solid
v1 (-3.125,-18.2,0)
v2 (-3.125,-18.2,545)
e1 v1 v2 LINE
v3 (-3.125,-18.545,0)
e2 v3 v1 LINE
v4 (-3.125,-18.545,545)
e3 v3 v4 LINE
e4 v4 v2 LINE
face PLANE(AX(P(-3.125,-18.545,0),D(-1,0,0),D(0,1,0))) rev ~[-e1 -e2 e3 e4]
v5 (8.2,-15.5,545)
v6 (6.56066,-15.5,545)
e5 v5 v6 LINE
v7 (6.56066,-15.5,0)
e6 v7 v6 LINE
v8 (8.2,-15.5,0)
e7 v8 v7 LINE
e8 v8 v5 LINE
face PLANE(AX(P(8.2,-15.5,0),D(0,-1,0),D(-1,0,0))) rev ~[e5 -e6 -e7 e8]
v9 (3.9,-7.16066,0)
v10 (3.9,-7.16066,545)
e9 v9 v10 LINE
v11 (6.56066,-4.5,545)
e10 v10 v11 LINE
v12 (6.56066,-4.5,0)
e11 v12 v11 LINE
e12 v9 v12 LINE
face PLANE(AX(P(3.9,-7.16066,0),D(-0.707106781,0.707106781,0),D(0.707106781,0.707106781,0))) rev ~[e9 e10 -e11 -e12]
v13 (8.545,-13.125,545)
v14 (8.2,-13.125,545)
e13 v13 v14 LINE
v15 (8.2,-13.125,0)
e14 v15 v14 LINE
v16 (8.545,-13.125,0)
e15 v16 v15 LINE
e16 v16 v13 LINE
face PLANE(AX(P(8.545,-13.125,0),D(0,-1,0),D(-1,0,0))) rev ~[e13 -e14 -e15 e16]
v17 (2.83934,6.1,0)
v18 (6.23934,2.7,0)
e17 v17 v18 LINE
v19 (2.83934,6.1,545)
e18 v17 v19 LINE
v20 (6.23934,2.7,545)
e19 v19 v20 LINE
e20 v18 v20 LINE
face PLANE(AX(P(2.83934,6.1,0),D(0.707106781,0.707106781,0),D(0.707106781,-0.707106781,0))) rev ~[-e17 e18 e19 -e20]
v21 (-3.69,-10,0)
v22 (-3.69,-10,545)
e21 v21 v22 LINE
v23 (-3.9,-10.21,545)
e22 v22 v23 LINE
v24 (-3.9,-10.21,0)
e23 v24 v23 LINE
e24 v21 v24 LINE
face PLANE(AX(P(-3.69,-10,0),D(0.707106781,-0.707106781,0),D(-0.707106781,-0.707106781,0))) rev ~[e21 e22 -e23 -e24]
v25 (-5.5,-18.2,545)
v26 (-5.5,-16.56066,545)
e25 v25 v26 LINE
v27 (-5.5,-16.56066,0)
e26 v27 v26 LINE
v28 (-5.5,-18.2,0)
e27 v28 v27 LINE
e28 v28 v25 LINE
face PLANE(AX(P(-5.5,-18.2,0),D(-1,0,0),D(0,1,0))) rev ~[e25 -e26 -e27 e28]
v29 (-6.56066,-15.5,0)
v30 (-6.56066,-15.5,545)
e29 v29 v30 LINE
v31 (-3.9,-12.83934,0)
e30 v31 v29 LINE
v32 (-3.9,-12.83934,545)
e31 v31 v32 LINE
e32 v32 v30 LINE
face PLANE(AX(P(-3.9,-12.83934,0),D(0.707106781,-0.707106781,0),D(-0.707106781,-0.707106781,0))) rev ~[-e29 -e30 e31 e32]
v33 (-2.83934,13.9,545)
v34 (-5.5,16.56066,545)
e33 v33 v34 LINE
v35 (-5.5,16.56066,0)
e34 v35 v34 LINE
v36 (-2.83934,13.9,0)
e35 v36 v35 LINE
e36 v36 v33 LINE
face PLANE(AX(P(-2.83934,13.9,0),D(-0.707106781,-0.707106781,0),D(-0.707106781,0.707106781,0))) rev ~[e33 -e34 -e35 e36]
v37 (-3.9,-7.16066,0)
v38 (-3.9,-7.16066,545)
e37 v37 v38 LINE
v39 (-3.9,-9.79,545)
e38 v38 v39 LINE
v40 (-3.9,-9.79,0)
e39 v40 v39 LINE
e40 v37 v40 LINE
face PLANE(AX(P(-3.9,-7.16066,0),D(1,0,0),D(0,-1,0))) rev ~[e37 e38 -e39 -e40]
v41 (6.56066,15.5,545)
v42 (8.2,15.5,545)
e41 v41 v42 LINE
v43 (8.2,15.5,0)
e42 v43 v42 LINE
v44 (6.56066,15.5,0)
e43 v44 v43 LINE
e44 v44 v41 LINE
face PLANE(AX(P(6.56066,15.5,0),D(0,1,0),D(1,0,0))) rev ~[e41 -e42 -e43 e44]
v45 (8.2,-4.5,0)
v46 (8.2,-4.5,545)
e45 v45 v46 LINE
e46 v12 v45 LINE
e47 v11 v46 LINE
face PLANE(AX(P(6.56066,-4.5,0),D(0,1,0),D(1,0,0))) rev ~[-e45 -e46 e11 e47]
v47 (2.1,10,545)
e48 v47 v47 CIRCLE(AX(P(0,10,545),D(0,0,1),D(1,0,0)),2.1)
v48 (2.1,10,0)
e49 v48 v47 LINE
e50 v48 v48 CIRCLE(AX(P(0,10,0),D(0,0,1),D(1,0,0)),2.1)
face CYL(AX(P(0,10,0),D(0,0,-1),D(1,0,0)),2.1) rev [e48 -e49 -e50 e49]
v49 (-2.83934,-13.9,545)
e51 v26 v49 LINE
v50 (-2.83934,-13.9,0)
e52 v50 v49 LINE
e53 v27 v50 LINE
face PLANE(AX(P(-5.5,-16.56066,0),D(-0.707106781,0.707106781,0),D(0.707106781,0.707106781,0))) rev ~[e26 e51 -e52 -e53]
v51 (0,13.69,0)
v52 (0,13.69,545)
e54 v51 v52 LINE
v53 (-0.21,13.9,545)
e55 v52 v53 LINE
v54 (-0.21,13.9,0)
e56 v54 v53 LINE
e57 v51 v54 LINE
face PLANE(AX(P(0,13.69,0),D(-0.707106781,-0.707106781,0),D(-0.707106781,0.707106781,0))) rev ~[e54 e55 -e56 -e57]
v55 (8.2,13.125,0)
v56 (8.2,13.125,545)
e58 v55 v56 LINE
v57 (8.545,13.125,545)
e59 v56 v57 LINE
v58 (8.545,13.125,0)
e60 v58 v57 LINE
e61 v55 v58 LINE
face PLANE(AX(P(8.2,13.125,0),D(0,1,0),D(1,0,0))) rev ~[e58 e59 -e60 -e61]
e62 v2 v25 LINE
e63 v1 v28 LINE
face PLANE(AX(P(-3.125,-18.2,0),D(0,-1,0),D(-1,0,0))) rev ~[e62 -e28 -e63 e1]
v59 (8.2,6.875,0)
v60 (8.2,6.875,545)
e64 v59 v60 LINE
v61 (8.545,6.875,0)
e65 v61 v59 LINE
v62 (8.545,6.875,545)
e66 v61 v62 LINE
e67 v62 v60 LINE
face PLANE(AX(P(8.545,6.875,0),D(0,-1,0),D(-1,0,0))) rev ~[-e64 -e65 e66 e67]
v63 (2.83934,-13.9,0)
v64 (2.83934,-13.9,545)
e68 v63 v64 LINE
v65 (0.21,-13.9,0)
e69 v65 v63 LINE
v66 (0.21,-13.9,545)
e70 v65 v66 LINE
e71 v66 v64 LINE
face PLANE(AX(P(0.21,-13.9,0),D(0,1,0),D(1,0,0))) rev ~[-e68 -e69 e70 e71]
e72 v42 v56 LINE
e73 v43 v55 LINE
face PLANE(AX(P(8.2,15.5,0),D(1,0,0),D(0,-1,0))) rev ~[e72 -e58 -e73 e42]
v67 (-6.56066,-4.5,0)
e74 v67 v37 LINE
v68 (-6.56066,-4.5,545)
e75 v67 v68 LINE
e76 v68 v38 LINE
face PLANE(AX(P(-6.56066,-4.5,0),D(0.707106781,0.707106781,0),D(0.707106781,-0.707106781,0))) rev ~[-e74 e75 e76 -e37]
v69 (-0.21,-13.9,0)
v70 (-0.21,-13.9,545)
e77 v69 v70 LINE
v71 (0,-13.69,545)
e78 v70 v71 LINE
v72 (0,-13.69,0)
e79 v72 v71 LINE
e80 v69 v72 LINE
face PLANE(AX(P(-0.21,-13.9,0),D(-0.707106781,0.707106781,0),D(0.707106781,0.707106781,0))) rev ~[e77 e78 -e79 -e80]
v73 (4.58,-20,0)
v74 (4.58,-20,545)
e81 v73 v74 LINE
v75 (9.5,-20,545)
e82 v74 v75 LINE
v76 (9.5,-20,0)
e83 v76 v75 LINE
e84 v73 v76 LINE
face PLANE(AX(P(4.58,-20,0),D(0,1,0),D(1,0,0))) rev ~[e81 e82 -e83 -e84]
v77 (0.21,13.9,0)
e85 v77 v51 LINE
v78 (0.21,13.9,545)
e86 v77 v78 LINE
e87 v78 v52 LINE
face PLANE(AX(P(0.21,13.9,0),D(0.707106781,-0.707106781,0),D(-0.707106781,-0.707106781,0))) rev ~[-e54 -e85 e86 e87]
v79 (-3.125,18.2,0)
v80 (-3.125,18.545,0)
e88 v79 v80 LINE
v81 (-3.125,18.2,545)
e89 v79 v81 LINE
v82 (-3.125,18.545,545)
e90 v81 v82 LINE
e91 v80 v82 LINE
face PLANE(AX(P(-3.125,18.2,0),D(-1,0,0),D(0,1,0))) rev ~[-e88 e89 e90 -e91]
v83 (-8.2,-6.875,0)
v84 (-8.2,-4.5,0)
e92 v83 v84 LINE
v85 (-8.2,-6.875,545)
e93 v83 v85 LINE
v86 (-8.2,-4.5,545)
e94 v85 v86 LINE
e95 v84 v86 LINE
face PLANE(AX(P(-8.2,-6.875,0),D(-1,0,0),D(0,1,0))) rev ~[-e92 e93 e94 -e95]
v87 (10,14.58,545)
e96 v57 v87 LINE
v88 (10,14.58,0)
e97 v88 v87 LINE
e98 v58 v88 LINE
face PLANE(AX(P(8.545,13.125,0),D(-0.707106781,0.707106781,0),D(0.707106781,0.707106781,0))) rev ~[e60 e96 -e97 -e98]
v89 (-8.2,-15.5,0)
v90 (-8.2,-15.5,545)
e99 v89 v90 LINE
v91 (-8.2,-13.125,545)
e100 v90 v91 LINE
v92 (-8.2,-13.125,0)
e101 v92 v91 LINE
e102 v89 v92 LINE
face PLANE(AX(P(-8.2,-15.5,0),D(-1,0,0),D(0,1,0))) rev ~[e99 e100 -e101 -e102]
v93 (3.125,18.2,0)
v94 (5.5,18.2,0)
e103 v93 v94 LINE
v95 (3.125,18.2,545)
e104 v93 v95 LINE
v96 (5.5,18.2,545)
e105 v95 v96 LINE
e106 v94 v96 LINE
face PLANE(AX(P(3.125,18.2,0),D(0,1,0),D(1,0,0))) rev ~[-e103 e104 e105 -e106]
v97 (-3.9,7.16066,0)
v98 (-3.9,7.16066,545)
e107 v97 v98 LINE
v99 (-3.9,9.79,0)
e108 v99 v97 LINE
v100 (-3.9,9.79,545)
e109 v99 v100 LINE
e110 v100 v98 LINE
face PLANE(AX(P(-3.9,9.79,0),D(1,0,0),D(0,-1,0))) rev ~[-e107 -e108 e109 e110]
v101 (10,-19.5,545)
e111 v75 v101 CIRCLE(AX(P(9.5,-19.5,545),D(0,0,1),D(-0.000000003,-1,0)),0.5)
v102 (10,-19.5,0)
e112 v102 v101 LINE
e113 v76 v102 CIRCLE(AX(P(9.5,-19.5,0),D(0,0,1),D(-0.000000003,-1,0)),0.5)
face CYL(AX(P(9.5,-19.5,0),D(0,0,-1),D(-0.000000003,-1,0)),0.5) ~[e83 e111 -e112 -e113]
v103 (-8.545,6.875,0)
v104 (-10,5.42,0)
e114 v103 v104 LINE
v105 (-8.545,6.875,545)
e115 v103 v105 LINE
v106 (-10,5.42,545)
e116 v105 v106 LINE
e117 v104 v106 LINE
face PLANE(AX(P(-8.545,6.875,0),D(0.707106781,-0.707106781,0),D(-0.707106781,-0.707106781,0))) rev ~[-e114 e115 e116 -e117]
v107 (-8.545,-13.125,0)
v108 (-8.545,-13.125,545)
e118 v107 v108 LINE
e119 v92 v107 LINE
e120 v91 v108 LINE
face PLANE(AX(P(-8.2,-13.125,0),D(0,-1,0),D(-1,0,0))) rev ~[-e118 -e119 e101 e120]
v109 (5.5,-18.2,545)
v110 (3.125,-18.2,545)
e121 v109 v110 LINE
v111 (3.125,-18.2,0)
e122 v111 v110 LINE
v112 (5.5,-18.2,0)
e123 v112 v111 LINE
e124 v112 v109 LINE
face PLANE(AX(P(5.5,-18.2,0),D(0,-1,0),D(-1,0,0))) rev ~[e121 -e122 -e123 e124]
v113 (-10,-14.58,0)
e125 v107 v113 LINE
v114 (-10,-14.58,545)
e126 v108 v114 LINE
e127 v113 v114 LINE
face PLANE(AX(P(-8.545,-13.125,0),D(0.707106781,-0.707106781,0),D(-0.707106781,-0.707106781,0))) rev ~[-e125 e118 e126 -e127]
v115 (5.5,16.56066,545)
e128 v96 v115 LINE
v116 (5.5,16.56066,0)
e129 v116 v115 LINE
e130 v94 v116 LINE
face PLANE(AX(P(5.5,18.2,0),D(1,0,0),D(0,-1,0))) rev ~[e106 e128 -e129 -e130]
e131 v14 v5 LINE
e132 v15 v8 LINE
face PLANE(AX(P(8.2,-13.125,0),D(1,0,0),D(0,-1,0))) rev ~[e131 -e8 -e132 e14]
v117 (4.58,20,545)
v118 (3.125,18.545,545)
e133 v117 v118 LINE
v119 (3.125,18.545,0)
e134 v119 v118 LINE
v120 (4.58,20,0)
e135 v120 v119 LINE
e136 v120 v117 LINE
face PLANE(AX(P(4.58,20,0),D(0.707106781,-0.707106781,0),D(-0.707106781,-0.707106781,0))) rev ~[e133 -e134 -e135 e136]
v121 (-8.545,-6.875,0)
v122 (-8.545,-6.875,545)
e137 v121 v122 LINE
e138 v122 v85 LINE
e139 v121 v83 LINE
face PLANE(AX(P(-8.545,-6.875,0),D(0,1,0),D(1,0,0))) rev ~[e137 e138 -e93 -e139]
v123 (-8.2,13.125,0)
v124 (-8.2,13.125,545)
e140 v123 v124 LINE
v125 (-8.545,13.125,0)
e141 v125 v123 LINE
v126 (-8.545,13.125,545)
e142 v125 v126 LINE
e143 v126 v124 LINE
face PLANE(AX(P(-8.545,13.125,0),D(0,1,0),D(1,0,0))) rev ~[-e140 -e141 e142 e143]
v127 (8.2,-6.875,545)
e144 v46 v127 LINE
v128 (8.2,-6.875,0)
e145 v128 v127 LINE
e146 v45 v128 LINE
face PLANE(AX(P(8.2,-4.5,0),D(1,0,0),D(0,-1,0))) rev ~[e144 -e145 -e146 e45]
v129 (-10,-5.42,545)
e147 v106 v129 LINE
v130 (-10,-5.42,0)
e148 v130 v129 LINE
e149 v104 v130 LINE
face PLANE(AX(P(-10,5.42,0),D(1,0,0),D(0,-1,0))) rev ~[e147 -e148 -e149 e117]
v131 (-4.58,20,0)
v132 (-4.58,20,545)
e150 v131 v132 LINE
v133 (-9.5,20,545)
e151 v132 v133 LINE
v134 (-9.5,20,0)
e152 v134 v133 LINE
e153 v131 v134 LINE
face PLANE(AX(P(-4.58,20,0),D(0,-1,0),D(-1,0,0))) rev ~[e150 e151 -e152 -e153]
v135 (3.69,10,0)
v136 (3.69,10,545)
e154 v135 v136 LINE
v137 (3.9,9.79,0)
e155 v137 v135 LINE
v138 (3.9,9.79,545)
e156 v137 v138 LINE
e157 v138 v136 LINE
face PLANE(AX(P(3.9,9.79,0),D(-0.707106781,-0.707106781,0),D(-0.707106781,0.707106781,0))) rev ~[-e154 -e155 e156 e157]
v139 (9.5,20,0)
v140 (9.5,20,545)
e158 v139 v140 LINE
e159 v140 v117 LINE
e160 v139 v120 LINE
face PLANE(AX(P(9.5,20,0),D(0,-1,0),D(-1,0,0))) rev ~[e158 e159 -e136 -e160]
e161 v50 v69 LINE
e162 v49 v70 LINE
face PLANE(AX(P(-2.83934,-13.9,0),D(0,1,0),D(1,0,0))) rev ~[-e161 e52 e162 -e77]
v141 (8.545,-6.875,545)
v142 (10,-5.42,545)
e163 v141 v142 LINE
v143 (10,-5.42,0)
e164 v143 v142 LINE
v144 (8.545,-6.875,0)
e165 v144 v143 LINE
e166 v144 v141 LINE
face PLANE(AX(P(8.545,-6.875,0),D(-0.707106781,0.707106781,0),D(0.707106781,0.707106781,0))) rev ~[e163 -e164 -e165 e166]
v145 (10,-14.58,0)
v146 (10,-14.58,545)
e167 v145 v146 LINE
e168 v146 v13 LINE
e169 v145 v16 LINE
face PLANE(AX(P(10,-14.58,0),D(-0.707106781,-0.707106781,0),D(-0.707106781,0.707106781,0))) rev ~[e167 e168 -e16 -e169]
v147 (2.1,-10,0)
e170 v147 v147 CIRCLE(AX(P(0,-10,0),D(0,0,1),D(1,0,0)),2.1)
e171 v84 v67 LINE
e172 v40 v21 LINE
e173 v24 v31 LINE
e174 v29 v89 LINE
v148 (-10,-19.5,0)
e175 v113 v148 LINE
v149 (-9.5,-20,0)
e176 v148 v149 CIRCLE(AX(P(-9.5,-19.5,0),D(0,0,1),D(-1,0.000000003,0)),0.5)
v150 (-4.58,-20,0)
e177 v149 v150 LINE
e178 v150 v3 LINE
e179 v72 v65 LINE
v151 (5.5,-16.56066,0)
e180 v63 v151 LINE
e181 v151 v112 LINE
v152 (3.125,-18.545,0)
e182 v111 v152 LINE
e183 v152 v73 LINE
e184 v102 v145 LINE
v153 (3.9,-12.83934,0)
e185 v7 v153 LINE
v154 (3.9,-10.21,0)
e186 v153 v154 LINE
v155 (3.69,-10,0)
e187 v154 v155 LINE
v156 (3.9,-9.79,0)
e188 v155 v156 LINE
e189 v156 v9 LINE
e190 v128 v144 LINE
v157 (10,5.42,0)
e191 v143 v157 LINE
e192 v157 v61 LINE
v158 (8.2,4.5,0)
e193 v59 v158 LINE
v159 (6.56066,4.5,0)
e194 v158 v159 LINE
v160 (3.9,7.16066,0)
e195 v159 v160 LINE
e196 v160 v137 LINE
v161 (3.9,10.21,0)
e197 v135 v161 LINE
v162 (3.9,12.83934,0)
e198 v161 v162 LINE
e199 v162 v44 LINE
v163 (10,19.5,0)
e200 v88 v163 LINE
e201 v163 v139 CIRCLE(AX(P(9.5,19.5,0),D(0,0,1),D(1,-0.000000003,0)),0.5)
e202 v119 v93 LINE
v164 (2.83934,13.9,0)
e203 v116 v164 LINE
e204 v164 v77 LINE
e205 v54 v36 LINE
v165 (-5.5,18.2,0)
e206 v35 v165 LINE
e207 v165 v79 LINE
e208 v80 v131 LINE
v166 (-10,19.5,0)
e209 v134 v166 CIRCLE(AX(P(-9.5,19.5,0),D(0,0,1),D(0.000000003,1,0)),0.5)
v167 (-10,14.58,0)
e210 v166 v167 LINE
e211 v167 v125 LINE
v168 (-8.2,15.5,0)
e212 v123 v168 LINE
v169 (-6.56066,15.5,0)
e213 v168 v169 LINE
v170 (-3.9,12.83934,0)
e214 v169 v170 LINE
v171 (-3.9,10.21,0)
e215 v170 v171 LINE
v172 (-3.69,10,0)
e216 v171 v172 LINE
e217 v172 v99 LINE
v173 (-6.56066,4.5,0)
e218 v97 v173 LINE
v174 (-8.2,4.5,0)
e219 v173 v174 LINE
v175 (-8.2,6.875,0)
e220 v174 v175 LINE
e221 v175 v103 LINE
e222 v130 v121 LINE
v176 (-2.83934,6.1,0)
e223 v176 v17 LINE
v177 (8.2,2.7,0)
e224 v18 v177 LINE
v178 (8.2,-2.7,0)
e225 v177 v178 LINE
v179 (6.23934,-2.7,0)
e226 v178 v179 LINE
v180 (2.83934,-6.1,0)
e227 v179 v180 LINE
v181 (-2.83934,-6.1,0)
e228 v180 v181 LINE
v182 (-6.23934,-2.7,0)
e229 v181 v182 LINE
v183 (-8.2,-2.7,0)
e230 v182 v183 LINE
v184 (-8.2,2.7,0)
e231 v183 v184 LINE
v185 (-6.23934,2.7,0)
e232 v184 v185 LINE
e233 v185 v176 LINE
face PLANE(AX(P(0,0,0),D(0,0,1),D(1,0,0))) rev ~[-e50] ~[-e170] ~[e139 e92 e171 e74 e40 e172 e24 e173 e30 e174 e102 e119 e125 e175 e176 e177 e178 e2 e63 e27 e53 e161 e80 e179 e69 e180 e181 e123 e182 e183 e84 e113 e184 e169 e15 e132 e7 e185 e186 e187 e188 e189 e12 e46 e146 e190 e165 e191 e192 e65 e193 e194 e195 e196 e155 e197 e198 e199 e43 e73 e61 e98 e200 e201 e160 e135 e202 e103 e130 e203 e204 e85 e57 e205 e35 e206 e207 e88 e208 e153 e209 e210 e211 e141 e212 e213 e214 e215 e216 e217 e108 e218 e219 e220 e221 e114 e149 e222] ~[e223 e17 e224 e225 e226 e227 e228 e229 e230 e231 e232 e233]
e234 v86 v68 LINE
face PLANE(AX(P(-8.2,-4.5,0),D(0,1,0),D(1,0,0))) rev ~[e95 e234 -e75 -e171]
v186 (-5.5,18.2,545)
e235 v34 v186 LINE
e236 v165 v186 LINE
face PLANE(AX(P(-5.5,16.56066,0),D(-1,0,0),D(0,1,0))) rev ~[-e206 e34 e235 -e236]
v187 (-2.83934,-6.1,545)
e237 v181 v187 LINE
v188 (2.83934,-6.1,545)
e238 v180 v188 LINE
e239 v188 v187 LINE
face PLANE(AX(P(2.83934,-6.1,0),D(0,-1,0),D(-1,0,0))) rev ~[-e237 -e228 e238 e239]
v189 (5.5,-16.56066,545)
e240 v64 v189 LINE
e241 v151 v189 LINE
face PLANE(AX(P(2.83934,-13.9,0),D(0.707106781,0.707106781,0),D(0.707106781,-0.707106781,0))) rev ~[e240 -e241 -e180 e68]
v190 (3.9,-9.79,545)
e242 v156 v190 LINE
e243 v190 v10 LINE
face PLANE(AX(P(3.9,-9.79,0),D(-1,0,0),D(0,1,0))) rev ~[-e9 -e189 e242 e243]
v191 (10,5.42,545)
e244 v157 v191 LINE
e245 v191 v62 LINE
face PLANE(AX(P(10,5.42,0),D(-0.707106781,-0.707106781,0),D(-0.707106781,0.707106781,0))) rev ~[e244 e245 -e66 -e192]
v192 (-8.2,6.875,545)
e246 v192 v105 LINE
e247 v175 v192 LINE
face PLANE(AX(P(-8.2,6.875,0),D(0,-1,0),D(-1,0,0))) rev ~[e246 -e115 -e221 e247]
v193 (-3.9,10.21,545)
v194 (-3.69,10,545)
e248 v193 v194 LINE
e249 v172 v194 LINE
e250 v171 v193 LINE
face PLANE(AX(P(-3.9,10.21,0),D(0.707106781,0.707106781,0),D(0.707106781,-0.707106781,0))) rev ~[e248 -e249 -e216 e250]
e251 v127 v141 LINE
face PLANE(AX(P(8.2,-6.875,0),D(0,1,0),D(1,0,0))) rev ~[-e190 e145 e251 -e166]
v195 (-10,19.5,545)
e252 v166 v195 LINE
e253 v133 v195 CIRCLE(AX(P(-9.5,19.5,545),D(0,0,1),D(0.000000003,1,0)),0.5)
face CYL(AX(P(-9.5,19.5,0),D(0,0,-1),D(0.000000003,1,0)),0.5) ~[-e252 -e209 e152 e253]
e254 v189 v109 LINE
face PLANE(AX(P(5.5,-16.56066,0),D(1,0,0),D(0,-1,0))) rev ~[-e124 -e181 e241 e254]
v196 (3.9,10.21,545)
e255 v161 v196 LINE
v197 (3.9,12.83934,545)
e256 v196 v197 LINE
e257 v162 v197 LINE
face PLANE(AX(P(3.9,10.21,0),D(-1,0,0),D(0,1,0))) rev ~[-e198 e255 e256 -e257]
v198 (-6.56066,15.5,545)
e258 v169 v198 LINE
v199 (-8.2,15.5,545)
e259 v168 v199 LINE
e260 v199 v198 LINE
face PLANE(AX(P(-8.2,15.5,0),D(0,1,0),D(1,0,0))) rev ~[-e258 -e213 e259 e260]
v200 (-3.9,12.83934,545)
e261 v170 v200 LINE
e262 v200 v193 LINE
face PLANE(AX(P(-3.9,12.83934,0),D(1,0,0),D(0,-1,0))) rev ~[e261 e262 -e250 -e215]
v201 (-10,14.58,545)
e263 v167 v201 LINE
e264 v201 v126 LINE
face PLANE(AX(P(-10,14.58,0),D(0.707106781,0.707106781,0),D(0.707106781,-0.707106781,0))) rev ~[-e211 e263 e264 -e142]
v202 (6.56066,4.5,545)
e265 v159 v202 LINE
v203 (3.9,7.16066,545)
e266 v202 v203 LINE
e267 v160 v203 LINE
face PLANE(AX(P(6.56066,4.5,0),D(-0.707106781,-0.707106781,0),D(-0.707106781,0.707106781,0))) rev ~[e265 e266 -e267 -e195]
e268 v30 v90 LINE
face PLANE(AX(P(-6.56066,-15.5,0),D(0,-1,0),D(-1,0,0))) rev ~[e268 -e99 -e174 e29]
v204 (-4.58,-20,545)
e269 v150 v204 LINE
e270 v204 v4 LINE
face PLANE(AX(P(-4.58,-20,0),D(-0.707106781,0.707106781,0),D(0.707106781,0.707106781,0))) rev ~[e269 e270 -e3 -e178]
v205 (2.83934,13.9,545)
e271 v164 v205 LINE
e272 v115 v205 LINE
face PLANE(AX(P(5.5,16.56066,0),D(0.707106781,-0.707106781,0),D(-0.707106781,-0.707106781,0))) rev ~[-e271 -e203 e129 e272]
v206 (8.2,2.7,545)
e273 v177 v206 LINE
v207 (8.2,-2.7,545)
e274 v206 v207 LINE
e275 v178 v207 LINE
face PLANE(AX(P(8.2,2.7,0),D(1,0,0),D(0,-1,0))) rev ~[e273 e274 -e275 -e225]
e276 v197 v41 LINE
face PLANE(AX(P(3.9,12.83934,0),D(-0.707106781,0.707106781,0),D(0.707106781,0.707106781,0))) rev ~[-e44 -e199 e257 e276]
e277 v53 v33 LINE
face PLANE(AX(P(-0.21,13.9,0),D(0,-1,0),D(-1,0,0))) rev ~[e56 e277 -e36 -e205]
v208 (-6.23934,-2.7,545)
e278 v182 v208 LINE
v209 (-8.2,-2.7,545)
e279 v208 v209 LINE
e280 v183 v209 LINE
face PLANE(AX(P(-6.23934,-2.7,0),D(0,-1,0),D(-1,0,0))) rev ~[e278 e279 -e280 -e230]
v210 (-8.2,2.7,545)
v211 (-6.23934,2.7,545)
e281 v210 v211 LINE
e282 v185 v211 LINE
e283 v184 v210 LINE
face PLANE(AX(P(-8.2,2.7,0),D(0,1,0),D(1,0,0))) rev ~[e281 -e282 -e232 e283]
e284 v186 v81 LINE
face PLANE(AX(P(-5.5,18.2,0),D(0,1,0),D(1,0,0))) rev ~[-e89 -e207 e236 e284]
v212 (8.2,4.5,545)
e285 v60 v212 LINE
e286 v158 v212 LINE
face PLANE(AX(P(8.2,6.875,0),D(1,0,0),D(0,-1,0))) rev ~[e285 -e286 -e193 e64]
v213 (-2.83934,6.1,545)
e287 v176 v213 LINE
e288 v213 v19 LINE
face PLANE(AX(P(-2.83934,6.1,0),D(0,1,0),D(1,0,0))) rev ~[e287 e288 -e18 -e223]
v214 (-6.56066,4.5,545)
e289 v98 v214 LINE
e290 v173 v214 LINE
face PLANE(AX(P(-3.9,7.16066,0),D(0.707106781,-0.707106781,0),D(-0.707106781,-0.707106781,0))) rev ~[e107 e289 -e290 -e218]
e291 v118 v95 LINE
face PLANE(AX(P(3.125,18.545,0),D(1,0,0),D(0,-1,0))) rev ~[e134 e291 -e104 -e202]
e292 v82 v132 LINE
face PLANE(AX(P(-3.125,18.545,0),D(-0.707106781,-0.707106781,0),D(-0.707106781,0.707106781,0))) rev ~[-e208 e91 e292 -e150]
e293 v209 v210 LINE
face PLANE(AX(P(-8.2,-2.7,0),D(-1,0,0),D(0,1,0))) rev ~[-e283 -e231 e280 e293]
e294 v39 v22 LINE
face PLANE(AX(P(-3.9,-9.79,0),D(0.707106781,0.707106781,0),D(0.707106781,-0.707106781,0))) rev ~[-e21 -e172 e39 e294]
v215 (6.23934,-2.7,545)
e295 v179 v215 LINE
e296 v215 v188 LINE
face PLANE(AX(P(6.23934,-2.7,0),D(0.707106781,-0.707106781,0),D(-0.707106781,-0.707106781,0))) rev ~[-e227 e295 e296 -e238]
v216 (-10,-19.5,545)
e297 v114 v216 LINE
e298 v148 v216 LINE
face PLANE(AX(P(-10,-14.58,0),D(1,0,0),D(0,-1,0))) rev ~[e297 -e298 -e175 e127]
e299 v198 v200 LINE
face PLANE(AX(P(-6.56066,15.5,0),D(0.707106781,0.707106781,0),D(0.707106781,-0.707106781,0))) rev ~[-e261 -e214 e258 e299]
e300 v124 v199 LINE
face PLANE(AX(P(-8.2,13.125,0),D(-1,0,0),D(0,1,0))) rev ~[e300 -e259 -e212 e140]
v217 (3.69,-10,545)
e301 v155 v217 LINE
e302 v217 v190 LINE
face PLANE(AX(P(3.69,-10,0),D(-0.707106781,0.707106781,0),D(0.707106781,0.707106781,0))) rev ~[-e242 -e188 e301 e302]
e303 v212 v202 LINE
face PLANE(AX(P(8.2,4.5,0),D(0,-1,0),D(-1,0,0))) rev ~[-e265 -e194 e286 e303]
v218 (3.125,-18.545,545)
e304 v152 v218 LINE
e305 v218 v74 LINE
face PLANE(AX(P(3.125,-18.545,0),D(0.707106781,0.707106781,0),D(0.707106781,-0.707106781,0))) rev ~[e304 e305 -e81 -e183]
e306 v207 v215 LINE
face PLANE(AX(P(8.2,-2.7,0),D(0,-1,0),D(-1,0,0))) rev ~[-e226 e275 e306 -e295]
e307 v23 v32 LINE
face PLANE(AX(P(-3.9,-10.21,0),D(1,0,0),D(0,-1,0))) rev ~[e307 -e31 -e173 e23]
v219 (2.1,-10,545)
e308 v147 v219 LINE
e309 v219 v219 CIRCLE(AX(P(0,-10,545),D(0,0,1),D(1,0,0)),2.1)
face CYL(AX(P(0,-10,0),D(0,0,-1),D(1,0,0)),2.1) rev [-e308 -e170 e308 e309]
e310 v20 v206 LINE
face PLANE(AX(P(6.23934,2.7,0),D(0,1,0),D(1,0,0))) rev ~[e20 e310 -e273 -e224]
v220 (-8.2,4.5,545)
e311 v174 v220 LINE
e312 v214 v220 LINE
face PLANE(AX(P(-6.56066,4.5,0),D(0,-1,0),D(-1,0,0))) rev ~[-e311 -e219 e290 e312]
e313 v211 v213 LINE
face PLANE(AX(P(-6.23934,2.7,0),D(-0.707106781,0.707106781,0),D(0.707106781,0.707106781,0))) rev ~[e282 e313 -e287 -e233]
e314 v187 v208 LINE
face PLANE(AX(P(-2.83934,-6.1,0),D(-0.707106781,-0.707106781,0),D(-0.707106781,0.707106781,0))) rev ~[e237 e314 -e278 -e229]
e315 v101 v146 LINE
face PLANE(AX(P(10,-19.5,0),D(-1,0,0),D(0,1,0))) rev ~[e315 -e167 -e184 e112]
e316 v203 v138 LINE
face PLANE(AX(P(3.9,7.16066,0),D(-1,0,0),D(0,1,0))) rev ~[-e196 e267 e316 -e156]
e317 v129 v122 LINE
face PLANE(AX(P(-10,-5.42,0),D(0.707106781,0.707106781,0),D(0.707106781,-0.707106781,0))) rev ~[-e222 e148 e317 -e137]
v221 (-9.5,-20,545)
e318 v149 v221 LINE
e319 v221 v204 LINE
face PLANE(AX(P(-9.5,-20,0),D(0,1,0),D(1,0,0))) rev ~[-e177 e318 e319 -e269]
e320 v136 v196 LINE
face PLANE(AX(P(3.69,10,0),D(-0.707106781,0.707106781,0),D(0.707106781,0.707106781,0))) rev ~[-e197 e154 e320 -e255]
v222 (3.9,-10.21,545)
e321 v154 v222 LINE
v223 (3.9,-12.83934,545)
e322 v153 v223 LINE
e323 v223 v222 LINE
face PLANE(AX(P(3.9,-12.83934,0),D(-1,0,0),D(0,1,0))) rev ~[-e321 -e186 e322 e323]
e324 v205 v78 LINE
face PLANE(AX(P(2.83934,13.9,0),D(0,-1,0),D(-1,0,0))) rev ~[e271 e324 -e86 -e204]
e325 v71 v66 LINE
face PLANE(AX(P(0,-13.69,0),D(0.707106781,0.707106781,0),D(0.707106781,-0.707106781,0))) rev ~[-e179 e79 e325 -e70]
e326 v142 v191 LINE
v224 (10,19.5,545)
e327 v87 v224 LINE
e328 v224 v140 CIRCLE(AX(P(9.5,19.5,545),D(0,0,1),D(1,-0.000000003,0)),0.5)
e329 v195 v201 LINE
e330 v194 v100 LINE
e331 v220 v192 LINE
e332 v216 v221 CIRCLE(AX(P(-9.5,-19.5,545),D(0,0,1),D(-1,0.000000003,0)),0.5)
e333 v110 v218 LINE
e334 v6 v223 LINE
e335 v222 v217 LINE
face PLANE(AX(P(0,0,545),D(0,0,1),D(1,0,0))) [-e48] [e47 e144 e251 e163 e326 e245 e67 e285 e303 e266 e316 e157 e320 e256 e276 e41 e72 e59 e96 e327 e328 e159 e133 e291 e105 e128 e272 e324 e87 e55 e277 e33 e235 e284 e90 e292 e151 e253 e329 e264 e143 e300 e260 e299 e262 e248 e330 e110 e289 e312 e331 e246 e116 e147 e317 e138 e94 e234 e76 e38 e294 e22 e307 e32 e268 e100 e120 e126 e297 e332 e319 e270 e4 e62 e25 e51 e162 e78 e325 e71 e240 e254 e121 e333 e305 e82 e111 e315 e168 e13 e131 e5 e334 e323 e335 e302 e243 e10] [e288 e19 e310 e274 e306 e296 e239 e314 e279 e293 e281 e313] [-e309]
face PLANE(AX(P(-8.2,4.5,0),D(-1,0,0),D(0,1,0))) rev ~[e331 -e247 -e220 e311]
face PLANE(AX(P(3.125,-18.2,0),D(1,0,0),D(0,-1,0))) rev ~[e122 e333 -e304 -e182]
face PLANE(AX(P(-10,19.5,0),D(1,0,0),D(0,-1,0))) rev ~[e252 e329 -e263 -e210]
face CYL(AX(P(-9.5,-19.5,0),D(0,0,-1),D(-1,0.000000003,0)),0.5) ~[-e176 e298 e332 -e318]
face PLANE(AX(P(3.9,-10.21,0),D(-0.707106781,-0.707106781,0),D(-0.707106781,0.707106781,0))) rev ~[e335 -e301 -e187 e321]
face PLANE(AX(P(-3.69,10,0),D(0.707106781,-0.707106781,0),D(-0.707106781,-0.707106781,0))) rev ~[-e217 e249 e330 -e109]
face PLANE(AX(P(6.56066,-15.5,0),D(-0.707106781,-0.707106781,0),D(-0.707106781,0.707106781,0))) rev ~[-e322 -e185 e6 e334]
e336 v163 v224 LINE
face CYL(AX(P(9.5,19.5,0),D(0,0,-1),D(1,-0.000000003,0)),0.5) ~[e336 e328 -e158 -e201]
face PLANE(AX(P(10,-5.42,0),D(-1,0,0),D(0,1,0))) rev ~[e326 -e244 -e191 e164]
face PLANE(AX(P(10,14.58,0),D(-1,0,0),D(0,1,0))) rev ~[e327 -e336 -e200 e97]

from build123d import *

# Parameters (mm, degrees)
SKETCH1_R           = 2.1
BOSS_EXTRUDE1_DEPTH = 545


with BuildPart() as part:
    # Sketch1 → Boss-Extrude1 (new body)
    with BuildSketch(Plane.XY):
        with BuildLine():
            Line((4.58, -20), (9.5, -20))
            ThreePointArc((9.5, -20), (9.853553391, -19.853553391), (10, -19.5))
            Line((10, -19.5), (10, -14.58))
            Line((10, -14.58), (8.545, -13.125))
            Line((8.545, -13.125), (8.2, -13.125))
            Line((8.2, -13.125), (8.2, -15.5))
            Line((8.2, -15.5), (6.560660172, -15.5))
            Line((6.560660172, -15.5), (3.9, -12.839339828))
            Line((3.9, -12.839339828), (3.9, -10.21))
            Line((3.9, -10.21), (3.69, -10))
            Line((3.69, -10), (3.9, -9.79))
            Line((3.9, -9.79), (3.9, -7.160660172))
            Line((3.9, -7.160660172), (6.560660172, -4.5))
            Line((6.560660172, -4.5), (8.2, -4.5))
            Line((8.2, -4.5), (8.2, -6.875))
            Line((8.2, -6.875), (8.545, -6.875))
            Line((8.545, -6.875), (10, -5.42))
            Line((10, -5.42), (10, 5.42))
            Line((10, 5.42), (8.545, 6.875))
            Line((8.545, 6.875), (8.2, 6.875))
            Line((8.2, 6.875), (8.2, 4.5))
            Line((8.2, 4.5), (6.560660172, 4.5))
            Line((6.560660172, 4.5), (3.9, 7.160660172))
            Line((3.9, 7.160660172), (3.9, 9.79))
            Line((3.9, 9.79), (3.69, 10))
            Line((3.69, 10), (3.9, 10.21))
            Line((3.9, 10.21), (3.9, 12.839339828))
            Line((3.9, 12.839339828), (6.560660172, 15.5))
            Line((6.560660172, 15.5), (8.2, 15.5))
            Line((8.2, 15.5), (8.2, 13.125))
            Line((8.2, 13.125), (8.545, 13.125))
            Line((8.545, 13.125), (10, 14.58))
            Line((10, 14.58), (10, 19.5))
            ThreePointArc((10, 19.5), (9.853553391, 19.853553391), (9.5, 20))
            Line((9.5, 20), (4.58, 20))
            Line((4.58, 20), (3.125, 18.545))
            Line((3.125, 18.545), (3.125, 18.2))
            Line((3.125, 18.2), (5.5, 18.2))
            Line((5.5, 18.2), (5.5, 16.560660172))
            Line((5.5, 16.560660172), (2.839339828, 13.9))
            Line((2.839339828, 13.9), (0.21, 13.9))
            Line((0.21, 13.9), (0, 13.69))
            Line((0, 13.69), (-0.21, 13.9))
            Line((-0.21, 13.9), (-2.839339828, 13.9))
            Line((-2.839339828, 13.9), (-5.5, 16.560660172))
            Line((-5.5, 16.560660172), (-5.5, 18.2))
            Line((-5.5, 18.2), (-3.125, 18.2))
            Line((-3.125, 18.2), (-3.125, 18.545))
            Line((-3.125, 18.545), (-4.58, 20))
            Line((-4.58, 20), (-9.5, 20))
            ThreePointArc((-9.5, 20), (-9.853553391, 19.853553391), (-10, 19.5))
            Line((-10, 19.5), (-10, 14.58))
            Line((-10, 14.58), (-8.545, 13.125))
            Line((-8.545, 13.125), (-8.2, 13.125))
            Line((-8.2, 13.125), (-8.2, 15.5))
            Line((-8.2, 15.5), (-6.560660172, 15.5))
            Line((-6.560660172, 15.5), (-3.9, 12.839339828))
            Line((-3.9, 12.839339828), (-3.9, 10.21))
            Line((-3.9, 10.21), (-3.69, 10))
            Line((-3.69, 10), (-3.9, 9.79))
            Line((-3.9, 9.79), (-3.9, 7.160660172))
            Line((-3.9, 7.160660172), (-6.560660172, 4.5))
            Line((-6.560660172, 4.5), (-8.2, 4.5))
            Line((-8.2, 4.5), (-8.2, 6.875))
            Line((-8.2, 6.875), (-8.545, 6.875))
            Line((-8.545, 6.875), (-10, 5.42))
            Line((-10, 5.42), (-10, -5.42))
            Line((-10, -5.42), (-8.545, -6.875))
            Line((-8.545, -6.875), (-8.2, -6.875))
            Line((-8.2, -6.875), (-8.2, -4.5))
            Line((-8.2, -4.5), (-6.560660172, -4.5))
            Line((-6.560660172, -4.5), (-3.9, -7.160660172))
            Line((-3.9, -7.160660172), (-3.9, -9.79))
            Line((-3.9, -9.79), (-3.69, -10))
            Line((-3.69, -10), (-3.9, -10.21))
            Line((-3.9, -10.21), (-3.9, -12.839339828))
            Line((-3.9, -12.839339828), (-6.560660172, -15.5))
            Line((-6.560660172, -15.5), (-8.2, -15.5))
            Line((-8.2, -15.5), (-8.2, -13.125))
            Line((-8.2, -13.125), (-8.545, -13.125))
            Line((-8.545, -13.125), (-10, -14.58))
            Line((-10, -14.58), (-10, -19.5))
            ThreePointArc((-10, -19.5), (-9.853553391, -19.853553391), (-9.5, -20))
            Line((-9.5, -20), (-4.58, -20))
            Line((-4.58, -20), (-3.125, -18.545))
            Line((-3.125, -18.545), (-3.125, -18.2))
            Line((-3.125, -18.2), (-5.5, -18.2))
            Line((-5.5, -18.2), (-5.5, -16.560660172))
            Line((-5.5, -16.560660172), (-2.839339828, -13.9))
            Line((-2.839339828, -13.9), (-0.21, -13.9))
            Line((-0.21, -13.9), (0, -13.69))
            Line((0, -13.69), (0.21, -13.9))
            Line((0.21, -13.9), (2.839339828, -13.9))
            Line((2.839339828, -13.9), (5.5, -16.560660172))
            Line((5.5, -16.560660172), (5.5, -18.2))
            Line((5.5, -18.2), (3.125, -18.2))
            Line((3.125, -18.2), (3.125, -18.545))
            Line((3.125, -18.545), (4.58, -20))
        make_face()
        with Locations((0, -10)):
            Circle(SKETCH1_R, mode=Mode.SUBTRACT)
        Polygon((-6.239339828, -2.7), (-8.2, -2.7), (-8.2, 2.7), (-6.239339828, 2.7), (-2.839339828, 6.1), (2.839339828, 6.1), (6.239339828, 2.7), (8.2, 2.7), (8.2, -2.7), (6.239339828, -2.7), (2.839339828, -6.1), (-2.839339828, -6.1), align=None, mode=Mode.SUBTRACT)
        with Locations((0, 10)):
            Circle(SKETCH1_R, mode=Mode.SUBTRACT)
    extrude(amount=BOSS_EXTRUDE1_DEPTH)


solid = part.part
